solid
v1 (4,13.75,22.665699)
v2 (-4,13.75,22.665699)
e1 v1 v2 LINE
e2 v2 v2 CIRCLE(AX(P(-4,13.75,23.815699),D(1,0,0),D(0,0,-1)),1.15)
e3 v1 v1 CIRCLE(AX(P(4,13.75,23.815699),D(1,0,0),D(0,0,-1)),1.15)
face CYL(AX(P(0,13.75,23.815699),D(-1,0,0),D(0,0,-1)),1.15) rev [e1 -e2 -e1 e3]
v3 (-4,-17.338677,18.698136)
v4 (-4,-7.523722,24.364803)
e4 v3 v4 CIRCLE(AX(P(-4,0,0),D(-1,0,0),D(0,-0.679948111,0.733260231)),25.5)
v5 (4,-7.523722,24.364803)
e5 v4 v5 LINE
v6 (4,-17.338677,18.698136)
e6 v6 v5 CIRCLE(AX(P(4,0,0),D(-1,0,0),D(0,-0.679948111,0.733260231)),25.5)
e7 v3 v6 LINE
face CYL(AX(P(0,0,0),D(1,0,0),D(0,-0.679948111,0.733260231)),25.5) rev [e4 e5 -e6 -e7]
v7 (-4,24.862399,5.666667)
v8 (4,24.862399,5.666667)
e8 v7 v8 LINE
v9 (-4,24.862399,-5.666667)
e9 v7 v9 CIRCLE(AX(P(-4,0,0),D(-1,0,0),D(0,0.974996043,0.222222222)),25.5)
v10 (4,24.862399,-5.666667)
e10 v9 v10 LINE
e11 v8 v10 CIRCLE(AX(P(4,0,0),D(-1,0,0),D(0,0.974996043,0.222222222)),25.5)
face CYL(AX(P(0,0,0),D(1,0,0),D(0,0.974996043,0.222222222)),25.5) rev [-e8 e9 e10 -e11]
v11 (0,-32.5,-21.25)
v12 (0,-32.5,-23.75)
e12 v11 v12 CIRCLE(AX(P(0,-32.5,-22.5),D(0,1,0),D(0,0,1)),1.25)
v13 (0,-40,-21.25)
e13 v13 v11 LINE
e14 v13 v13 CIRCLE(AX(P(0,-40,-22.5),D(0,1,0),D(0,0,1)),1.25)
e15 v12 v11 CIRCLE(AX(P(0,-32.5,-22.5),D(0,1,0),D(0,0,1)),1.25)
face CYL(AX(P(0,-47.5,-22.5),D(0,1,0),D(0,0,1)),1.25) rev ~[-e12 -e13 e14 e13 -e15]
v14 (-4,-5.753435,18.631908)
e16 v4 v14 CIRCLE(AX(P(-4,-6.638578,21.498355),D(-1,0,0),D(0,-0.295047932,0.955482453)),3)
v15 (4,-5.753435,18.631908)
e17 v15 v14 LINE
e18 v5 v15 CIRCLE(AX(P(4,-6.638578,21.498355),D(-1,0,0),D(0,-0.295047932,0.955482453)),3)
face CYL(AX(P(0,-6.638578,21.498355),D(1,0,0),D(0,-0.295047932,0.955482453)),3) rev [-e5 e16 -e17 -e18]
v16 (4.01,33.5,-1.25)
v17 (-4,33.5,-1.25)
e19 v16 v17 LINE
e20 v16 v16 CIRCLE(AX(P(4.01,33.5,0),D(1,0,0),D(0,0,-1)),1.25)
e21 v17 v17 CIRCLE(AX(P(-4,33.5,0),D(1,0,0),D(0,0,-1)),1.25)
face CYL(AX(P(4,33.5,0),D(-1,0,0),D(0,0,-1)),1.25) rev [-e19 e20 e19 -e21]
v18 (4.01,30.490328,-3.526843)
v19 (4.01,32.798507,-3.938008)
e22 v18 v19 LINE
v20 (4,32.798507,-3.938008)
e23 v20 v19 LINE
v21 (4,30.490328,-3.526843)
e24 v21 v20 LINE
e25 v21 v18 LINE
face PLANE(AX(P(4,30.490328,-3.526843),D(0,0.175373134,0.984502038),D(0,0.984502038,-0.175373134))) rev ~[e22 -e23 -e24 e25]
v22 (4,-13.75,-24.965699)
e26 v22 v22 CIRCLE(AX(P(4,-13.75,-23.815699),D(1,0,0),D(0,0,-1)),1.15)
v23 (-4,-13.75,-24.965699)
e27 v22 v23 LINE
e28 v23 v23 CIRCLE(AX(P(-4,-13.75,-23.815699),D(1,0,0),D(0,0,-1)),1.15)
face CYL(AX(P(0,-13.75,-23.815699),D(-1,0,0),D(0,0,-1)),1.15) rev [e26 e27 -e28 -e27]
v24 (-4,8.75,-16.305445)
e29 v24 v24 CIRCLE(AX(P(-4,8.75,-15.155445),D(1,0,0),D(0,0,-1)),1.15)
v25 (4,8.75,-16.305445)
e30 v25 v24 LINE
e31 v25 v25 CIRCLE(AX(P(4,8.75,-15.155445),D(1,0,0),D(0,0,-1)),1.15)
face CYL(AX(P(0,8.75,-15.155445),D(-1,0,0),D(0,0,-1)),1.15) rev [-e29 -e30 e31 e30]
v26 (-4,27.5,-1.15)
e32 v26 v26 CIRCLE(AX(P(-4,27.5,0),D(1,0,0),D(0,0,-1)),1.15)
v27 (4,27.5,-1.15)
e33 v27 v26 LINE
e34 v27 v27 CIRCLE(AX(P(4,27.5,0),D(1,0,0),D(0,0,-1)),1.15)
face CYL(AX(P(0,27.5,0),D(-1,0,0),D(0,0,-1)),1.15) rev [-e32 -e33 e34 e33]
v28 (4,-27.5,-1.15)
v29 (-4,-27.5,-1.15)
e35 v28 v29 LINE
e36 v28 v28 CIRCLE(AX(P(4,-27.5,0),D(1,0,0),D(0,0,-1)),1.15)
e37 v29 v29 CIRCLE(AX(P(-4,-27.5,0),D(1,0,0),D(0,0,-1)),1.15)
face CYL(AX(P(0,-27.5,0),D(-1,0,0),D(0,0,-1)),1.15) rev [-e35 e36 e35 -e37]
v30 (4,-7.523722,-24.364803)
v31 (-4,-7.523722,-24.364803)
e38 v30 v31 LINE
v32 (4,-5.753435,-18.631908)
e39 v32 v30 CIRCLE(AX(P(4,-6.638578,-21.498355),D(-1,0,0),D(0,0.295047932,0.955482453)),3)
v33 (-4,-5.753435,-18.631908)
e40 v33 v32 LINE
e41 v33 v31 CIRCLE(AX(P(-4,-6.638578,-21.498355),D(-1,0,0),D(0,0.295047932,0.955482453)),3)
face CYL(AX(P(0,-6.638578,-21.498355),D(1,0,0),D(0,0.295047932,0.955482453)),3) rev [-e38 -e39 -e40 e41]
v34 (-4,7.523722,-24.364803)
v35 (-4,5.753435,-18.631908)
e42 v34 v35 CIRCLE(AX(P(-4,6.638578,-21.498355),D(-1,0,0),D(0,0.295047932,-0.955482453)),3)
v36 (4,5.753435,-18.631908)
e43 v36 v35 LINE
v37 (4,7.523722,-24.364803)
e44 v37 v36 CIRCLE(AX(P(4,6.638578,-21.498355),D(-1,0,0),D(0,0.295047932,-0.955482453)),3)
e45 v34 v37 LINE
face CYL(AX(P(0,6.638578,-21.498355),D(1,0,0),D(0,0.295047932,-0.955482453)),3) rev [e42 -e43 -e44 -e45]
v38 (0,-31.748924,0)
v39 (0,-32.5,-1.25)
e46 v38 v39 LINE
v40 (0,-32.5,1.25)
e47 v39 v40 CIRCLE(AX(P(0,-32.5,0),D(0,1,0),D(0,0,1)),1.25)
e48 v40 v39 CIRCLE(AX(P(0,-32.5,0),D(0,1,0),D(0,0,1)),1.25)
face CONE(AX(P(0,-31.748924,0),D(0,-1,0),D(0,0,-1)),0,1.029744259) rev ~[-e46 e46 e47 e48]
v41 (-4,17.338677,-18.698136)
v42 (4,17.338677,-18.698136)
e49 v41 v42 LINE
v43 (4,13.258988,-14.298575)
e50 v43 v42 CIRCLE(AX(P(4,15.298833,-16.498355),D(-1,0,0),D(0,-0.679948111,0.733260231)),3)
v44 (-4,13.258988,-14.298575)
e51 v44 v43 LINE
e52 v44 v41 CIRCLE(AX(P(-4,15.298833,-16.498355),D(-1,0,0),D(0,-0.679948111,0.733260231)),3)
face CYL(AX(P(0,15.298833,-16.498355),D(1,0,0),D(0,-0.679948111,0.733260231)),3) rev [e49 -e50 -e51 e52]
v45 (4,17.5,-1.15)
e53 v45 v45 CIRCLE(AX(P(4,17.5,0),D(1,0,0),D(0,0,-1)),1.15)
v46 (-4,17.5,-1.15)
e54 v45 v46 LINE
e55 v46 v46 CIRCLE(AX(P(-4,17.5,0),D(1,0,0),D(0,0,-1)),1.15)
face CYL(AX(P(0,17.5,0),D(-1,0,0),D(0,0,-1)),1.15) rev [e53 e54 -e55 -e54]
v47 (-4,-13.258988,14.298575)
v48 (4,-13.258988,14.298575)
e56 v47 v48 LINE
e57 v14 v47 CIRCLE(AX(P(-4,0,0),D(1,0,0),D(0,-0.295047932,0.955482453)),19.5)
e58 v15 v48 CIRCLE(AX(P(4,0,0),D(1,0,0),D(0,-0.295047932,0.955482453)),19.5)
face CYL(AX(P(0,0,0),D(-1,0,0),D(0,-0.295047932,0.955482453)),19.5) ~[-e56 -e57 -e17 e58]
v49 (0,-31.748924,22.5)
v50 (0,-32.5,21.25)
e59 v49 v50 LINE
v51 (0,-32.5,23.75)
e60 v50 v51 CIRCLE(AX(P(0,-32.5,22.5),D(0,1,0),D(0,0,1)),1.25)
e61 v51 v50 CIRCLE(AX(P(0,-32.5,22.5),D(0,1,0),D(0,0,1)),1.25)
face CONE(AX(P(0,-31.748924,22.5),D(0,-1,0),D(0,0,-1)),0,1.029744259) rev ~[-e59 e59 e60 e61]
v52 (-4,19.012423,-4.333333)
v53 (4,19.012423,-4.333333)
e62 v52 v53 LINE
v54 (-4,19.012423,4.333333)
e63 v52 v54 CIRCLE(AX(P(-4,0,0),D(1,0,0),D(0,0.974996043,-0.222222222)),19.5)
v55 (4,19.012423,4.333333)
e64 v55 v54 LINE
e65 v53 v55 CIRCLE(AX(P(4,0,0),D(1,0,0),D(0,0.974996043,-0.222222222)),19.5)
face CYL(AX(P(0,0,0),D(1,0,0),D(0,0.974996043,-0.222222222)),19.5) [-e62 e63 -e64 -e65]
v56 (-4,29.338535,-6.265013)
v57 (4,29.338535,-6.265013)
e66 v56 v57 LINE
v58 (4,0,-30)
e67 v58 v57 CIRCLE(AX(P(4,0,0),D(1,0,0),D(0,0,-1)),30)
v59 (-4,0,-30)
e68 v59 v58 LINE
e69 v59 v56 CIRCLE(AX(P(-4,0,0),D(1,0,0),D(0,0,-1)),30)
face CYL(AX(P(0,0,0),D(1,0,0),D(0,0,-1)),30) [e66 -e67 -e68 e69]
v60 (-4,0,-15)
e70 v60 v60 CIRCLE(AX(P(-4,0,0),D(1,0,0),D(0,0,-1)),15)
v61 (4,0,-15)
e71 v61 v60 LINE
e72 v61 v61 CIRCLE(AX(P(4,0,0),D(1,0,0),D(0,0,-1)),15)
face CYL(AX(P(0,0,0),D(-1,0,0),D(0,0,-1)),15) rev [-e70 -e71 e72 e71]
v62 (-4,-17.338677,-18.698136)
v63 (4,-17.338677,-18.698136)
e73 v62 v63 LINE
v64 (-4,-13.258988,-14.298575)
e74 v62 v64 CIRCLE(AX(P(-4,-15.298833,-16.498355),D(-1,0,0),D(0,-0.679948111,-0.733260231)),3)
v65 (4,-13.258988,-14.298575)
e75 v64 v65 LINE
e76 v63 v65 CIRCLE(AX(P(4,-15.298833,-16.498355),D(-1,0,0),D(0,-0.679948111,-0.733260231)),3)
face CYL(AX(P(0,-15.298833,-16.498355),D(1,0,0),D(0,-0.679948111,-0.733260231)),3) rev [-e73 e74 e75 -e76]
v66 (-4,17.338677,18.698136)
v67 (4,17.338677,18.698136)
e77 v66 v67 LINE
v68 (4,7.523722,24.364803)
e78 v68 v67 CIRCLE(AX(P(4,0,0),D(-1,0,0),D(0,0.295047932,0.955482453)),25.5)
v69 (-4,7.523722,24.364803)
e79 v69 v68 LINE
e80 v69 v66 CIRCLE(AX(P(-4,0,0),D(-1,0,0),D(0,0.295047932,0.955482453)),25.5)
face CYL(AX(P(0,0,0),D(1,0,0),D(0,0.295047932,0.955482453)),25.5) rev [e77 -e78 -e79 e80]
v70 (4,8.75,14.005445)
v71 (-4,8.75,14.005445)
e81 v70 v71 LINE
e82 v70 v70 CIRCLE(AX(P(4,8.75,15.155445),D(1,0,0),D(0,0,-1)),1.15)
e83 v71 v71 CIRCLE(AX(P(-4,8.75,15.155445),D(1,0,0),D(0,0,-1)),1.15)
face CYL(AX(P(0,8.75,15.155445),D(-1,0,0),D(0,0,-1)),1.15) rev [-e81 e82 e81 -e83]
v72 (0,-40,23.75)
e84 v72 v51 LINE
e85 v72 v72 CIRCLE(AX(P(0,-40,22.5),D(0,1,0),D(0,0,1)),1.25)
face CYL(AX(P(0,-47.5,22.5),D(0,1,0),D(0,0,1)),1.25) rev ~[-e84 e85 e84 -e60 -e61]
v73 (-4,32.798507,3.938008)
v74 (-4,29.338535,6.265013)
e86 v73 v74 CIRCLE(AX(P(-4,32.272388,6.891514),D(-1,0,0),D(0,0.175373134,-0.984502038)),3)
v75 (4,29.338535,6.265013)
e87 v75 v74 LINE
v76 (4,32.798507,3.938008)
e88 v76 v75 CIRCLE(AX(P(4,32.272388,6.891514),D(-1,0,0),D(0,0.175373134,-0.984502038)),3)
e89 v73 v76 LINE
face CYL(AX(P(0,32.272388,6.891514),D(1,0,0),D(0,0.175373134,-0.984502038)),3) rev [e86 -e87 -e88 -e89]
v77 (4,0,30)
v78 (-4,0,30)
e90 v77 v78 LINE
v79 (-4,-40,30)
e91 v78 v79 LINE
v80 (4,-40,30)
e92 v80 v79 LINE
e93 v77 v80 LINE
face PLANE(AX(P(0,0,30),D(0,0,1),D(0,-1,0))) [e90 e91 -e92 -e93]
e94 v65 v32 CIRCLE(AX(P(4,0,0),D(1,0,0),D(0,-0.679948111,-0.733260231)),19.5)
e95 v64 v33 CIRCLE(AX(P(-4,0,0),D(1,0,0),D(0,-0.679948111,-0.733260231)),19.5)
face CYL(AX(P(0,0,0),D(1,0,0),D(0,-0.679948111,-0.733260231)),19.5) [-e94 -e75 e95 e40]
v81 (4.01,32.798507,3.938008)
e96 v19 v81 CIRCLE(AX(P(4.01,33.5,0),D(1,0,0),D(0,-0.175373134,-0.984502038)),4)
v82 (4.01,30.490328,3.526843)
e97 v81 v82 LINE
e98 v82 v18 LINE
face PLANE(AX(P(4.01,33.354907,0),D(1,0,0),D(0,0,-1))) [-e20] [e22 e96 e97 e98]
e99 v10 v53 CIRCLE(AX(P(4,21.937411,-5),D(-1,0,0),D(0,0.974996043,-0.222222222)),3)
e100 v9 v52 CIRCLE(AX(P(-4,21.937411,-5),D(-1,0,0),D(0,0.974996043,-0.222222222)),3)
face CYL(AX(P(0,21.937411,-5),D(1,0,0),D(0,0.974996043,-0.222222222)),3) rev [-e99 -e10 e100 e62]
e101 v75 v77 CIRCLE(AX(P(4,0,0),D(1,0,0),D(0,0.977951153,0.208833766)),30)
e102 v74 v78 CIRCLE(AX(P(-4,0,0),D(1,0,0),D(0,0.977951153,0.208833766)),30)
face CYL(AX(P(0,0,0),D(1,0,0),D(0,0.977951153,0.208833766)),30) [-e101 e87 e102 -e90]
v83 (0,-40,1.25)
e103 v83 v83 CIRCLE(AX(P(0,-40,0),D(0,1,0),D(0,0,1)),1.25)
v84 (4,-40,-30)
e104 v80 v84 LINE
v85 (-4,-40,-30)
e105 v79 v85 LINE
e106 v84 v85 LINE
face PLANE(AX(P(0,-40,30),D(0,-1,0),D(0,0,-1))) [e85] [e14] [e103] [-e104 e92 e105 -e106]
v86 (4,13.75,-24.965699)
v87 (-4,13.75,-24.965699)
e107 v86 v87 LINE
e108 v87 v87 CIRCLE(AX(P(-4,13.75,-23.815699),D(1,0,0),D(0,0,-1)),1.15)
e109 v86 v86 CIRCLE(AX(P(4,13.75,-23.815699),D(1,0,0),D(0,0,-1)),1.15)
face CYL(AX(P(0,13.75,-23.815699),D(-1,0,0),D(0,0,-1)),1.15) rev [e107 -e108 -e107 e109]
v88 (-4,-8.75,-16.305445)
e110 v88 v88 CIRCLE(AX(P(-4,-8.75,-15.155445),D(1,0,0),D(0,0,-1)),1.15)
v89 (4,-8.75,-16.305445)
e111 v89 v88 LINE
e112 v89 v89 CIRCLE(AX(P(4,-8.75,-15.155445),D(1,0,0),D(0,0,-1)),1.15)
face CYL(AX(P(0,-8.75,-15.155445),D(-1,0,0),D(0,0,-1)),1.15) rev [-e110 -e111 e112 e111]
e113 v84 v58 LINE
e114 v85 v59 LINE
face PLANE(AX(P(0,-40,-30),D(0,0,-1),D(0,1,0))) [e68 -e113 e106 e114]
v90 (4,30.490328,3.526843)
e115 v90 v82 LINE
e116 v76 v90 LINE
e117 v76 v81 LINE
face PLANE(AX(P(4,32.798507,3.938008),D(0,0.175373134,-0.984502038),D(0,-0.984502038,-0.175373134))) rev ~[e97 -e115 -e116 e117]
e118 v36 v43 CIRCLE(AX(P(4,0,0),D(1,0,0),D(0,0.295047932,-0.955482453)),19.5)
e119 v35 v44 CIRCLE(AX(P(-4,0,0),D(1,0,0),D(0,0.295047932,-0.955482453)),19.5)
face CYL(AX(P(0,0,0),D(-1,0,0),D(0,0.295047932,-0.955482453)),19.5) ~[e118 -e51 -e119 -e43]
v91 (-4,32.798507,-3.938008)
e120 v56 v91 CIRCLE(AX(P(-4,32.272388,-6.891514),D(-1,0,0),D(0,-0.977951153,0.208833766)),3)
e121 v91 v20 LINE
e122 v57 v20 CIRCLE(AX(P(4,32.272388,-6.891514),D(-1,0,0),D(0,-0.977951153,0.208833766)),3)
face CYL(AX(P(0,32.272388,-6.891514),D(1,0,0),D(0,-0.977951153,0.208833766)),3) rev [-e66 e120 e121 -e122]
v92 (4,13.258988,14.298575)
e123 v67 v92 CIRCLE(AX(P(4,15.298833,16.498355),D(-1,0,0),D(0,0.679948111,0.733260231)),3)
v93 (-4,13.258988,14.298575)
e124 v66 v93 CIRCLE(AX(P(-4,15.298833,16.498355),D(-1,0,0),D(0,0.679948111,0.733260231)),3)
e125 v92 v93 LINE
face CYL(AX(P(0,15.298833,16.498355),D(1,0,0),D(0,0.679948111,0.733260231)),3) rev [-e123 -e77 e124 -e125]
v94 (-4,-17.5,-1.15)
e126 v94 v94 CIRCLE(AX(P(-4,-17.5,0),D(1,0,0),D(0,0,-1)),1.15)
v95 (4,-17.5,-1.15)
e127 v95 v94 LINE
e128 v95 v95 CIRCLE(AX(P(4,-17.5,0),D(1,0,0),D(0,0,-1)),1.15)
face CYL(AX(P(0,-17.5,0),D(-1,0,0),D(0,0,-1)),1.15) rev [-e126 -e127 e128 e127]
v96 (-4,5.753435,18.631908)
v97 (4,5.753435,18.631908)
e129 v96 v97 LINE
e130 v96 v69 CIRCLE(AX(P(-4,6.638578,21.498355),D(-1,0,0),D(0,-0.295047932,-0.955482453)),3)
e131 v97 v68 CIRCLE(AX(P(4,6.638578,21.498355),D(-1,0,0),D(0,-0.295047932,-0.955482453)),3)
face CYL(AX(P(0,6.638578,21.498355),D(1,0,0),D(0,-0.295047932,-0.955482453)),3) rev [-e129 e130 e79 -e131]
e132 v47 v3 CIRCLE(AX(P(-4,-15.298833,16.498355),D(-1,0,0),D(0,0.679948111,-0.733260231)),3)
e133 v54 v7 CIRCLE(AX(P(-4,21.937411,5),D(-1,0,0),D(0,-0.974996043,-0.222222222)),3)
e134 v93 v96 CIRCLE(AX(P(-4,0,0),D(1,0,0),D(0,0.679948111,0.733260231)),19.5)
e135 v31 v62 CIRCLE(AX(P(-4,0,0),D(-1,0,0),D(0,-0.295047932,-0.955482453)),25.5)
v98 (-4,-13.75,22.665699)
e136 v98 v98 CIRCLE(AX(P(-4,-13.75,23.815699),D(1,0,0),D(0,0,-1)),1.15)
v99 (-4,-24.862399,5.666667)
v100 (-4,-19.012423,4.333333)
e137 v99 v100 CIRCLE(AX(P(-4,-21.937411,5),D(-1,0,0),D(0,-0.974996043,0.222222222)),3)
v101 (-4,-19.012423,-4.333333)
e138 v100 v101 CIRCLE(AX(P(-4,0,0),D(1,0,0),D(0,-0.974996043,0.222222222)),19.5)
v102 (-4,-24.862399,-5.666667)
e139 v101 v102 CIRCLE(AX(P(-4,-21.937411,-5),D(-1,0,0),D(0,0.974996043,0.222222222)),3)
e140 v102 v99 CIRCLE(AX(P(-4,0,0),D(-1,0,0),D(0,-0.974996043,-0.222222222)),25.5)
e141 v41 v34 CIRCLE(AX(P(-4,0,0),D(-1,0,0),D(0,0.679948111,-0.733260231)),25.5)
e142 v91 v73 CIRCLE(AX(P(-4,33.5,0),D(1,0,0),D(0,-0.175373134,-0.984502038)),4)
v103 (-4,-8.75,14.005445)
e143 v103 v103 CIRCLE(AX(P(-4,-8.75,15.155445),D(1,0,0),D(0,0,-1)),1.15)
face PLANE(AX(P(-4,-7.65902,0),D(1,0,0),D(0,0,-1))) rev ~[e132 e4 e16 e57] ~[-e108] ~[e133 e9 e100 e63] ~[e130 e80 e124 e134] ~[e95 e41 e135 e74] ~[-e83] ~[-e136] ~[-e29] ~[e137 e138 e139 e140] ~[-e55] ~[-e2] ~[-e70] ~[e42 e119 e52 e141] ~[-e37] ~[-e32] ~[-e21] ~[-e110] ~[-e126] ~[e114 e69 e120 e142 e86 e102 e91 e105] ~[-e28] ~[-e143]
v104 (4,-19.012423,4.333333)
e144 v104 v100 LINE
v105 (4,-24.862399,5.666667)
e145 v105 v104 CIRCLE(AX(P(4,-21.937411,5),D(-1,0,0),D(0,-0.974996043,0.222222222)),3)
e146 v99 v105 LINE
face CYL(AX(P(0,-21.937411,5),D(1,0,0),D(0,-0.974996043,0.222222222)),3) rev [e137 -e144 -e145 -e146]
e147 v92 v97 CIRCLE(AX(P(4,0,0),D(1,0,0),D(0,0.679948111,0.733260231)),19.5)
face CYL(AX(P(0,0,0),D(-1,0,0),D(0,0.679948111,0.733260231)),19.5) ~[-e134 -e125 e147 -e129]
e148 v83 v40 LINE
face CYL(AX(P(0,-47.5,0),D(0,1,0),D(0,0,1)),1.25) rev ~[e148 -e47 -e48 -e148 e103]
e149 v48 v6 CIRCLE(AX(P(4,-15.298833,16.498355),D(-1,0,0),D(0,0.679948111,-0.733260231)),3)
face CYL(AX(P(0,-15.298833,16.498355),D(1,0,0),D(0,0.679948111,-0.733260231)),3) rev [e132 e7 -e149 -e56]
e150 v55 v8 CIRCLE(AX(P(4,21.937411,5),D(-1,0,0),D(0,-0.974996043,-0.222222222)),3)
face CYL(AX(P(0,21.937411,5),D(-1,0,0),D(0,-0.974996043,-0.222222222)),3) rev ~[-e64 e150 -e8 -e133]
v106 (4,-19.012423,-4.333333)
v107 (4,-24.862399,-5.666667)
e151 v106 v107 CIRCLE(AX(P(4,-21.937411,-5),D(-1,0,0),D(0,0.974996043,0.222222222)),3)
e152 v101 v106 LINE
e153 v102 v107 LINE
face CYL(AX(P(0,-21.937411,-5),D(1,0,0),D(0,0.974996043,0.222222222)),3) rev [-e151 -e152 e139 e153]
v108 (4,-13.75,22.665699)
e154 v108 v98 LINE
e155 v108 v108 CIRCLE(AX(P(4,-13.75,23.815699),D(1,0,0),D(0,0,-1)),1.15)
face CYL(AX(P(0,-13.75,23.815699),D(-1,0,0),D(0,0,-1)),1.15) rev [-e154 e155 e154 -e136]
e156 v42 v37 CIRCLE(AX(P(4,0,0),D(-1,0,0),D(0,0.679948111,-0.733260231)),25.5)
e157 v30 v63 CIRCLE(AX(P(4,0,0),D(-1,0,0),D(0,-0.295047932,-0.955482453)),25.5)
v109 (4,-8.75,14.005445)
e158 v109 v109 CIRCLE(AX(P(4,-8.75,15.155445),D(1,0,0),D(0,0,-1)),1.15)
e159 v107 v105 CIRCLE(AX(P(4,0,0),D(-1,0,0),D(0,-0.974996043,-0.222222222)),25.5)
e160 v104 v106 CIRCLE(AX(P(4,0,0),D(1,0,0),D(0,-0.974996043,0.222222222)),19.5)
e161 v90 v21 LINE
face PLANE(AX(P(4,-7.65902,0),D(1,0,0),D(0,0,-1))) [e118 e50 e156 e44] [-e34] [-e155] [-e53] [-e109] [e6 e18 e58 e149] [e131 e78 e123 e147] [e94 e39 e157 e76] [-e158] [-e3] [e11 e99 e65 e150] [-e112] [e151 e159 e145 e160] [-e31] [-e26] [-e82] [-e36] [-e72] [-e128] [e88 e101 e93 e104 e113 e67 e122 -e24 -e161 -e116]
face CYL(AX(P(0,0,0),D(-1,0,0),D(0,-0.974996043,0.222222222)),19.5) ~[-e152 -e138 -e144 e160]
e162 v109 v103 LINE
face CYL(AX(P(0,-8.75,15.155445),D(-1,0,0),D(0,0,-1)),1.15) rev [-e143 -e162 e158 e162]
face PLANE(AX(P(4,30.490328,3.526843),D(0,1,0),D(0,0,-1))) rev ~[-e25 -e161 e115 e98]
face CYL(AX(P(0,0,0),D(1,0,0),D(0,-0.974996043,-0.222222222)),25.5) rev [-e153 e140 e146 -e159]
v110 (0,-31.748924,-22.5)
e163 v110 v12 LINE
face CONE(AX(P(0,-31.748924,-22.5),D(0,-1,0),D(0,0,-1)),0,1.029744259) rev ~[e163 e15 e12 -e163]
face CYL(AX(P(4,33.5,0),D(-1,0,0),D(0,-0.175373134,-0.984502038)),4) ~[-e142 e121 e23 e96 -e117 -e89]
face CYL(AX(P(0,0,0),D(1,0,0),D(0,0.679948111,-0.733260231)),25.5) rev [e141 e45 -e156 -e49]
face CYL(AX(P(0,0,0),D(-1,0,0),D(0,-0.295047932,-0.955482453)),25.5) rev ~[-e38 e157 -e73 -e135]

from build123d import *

# Parameters (mm, degrees)
SKETCH_1_R             = 1.15
SKETCH_1_R_2           = 15
SKETCH_1_R_3           = 1.25
EXTRUDE_1_DEPTH        = 4
HOLE_WIZARD_M3_1_D     = 2.5
HOLE_WIZARD_M3_1_DEPTH = 7.5
HOLE_WIZARD_M3_1_TIP   = 0.751075774
SKETCH1_R              = 1.25
BOSS_EXTRUDE1_DEPTH    = 0.01
SKETCH1_2_R            = 1.25
BOSS_EXTRUDE2_DEPTH    = 0.01


with BuildPart() as part:
    # 草图1 → 凸台-拉伸1 (new, symmetric)
    with BuildSketch(Plane(origin=(0, 0, 0), x_dir=(0, 0, -1), z_dir=(1, 0, 0))):
        with BuildLine():
            Line((30, -40), (30, 0))
            ThreePointArc((30, 0), (23.323275812, 18.868619595), (6.265012972, 29.3385346))
            ThreePointArc((6.265012972, 29.3385346), (4.402143602, 30.598161767), (3.938008154, 32.798507463))
            ThreePointArc((3.938008154, 32.798507463), (0, 37.5), (-3.938008154, 32.798507463))
            ThreePointArc((-3.938008154, 32.798507463), (-4.402143602, 30.598161767), (-6.265012972, 29.3385346))
            ThreePointArc((-6.265012972, 29.3385346), (-23.323275812, 18.868619595), (-30, 0))
            Line((-30, 0), (-30, -40))
            Line((-30, -40), (30, -40))
        make_face()
        with BuildLine():
            ThreePointArc((4.333333333, 19.012422839), (0, 19.5), (-4.333333333, 19.012422839))
            ThreePointArc((-4.333333333, 19.012422839), (-7.924988129, 21.270744302), (-5.666666667, 24.862399098))
            ThreePointArc((-5.666666667, 24.862399098), (0, 25.5), (5.666666667, 24.862399098))
            ThreePointArc((5.666666667, 24.862399098), (7.924988129, 21.270744302), (4.333333333, 19.012422839))
        make_face(mode=Mode.SUBTRACT)
        with BuildLine():
            ThreePointArc((-5.666666667, -24.862399098), (-7.924988129, -21.270744302), (-4.333333333, -19.012422839))
            ThreePointArc((-4.333333333, -19.012422839), (0, -19.5), (4.333333333, -19.012422839))
            ThreePointArc((4.333333333, -19.012422839), (7.924988129, -21.270744302), (5.666666667, -24.862399098))
            ThreePointArc((5.666666667, -24.862399098), (0, -25.5), (-5.666666667, -24.862399098))
        make_face(mode=Mode.SUBTRACT)
        with Locations((-23.815698604, -13.75)):
            Circle(SKETCH_1_R, mode=Mode.SUBTRACT)
        with BuildLine():
            ThreePointArc((-24.364802551, -7.523722261), (-22.383498987, -3.772131106), (-18.631907833, -5.75343467))
            ThreePointArc((-18.631907833, -5.75343467), (-16.887495374, -9.75), (-14.2985745, -13.258988169))
            ThreePointArc((-14.2985745, -13.258988169), (-14.458510858, -17.498613195), (-18.698135884, -17.338676837))
            ThreePointArc((-18.698135884, -17.338676837), (-22.083647797, -12.75), (-24.364802551, -7.523722261))
        make_face(mode=Mode.SUBTRACT)
        with Locations((-15.155444566, -8.75)):
            Circle(SKETCH_1_R, mode=Mode.SUBTRACT)
        with Locations((0, -27.5)):
            Circle(SKETCH_1_R, mode=Mode.SUBTRACT)
        with Locations((0, -17.5)):
            Circle(SKETCH_1_R, mode=Mode.SUBTRACT)
        with BuildLine():
            ThreePointArc((18.631907833, -5.75343467), (22.383498987, -3.772131106), (24.364802551, -7.523722261))
            ThreePointArc((24.364802551, -7.523722261), (22.083647797, -12.75), (18.698135884, -17.338676837))
            ThreePointArc((18.698135884, -17.338676837), (14.458510858, -17.498613195), (14.2985745, -13.258988169))
            ThreePointArc((14.2985745, -13.258988169), (16.887495374, -9.75), (18.631907833, -5.75343467))
        make_face(mode=Mode.SUBTRACT)
        with Locations((23.815698604, -13.75)):
            Circle(SKETCH_1_R, mode=Mode.SUBTRACT)
        with Locations((15.155444566, -8.75)):
            Circle(SKETCH_1_R, mode=Mode.SUBTRACT)
        with Locations((-23.815698604, 13.75)):
            Circle(SKETCH_1_R, mode=Mode.SUBTRACT)
        with BuildLine():
            ThreePointArc((-18.698135884, 17.338676837), (-14.458510858, 17.498613195), (-14.2985745, 13.258988169))
            ThreePointArc((-14.2985745, 13.258988169), (-16.887495374, 9.75), (-18.631907833, 5.75343467))
            ThreePointArc((-18.631907833, 5.75343467), (-22.383498987, 3.772131106), (-24.364802551, 7.523722261))
            ThreePointArc((-24.364802551, 7.523722261), (-22.083647797, 12.75), (-18.698135884, 17.338676837))
        make_face(mode=Mode.SUBTRACT)
        with Locations((-15.155444566, 8.75)):
            Circle(SKETCH_1_R, mode=Mode.SUBTRACT)
        Circle(SKETCH_1_R_2, mode=Mode.SUBTRACT)
        with Locations((0, 17.5)):
            Circle(SKETCH_1_R, mode=Mode.SUBTRACT)
        with Locations((0, 27.5)):
            Circle(SKETCH_1_R, mode=Mode.SUBTRACT)
        with Locations((0, 33.5)):
            Circle(SKETCH_1_R_3, mode=Mode.SUBTRACT)
        with Locations((15.155444566, 8.75)):
            Circle(SKETCH_1_R, mode=Mode.SUBTRACT)
        with BuildLine():
            ThreePointArc((24.364802551, 7.523722261), (22.383498987, 3.772131106), (18.631907833, 5.75343467))
            ThreePointArc((18.631907833, 5.75343467), (16.887495374, 9.75), (14.2985745, 13.258988169))
            ThreePointArc((14.2985745, 13.258988169), (14.458510858, 17.498613195), (18.698135884, 17.338676837))
            ThreePointArc((18.698135884, 17.338676837), (22.083647797, 12.75), (24.364802551, 7.523722261))
        make_face(mode=Mode.SUBTRACT)
        with Locations((23.815698604, 13.75)):
            Circle(SKETCH_1_R, mode=Mode.SUBTRACT)
    extrude(amount=EXTRUDE_1_DEPTH, both=True)

    # M3 螺纹孔1
    with Locations(Plane(origin=(0, -40, 22.5), x_dir=(0, 0, -1), z_dir=(0, -1, 0))):
        with Locations((0, 0), (22.5, 0), (45, 0)):
            Hole(HOLE_WIZARD_M3_1_D / 2, depth=HOLE_WIZARD_M3_1_DEPTH)
            with Locations((0, 0, -(HOLE_WIZARD_M3_1_DEPTH + HOLE_WIZARD_M3_1_TIP / 2))):  # 118° drill point
                Cone(0, HOLE_WIZARD_M3_1_D / 2, HOLE_WIZARD_M3_1_TIP, mode=Mode.SUBTRACT)

    # Sketch1 → Boss-Extrude1 (add)
    with BuildSketch(Plane(origin=(4, 0, 0), x_dir=(0, 0, -1), z_dir=(1, 0, 0))):
        with BuildLine():
            Line((-3.938008154, 32.798507463), (-3.526843322, 30.490328295))
            Line((-3.526843322, 30.490328295), (3.526843322, 30.490328295))
            Line((3.526843322, 30.490328295), (3.938008154, 32.798507463))
            ThreePointArc((3.938008154, 32.798507463), (0, 37.5), (-3.938008154, 32.798507463))
        make_face()
        with Locations((0, 33.5)):
            Circle(SKETCH1_R, mode=Mode.SUBTRACT)
    extrude(amount=BOSS_EXTRUDE1_DEPTH)

    # Sketch1<2> → Boss-Extrude2 (add)
    with BuildSketch(Plane(origin=(4, 0, 0), x_dir=(0, 0, -1), z_dir=(1, 0, 0))):
        with BuildLine():
            Line((-3.938008154, 32.798507463), (-3.526843322, 30.490328295))
            Line((-3.526843322, 30.490328295), (3.526843322, 30.490328295))
            Line((3.526843322, 30.490328295), (3.938008154, 32.798507463))
            ThreePointArc((3.938008154, 32.798507463), (0, 37.5), (-3.938008154, 32.798507463))
        make_face()
        with Locations((0, 33.5)):
            Circle(SKETCH1_2_R, mode=Mode.SUBTRACT)
    extrude(amount=BOSS_EXTRUDE2_DEPTH)


solid = part.part
